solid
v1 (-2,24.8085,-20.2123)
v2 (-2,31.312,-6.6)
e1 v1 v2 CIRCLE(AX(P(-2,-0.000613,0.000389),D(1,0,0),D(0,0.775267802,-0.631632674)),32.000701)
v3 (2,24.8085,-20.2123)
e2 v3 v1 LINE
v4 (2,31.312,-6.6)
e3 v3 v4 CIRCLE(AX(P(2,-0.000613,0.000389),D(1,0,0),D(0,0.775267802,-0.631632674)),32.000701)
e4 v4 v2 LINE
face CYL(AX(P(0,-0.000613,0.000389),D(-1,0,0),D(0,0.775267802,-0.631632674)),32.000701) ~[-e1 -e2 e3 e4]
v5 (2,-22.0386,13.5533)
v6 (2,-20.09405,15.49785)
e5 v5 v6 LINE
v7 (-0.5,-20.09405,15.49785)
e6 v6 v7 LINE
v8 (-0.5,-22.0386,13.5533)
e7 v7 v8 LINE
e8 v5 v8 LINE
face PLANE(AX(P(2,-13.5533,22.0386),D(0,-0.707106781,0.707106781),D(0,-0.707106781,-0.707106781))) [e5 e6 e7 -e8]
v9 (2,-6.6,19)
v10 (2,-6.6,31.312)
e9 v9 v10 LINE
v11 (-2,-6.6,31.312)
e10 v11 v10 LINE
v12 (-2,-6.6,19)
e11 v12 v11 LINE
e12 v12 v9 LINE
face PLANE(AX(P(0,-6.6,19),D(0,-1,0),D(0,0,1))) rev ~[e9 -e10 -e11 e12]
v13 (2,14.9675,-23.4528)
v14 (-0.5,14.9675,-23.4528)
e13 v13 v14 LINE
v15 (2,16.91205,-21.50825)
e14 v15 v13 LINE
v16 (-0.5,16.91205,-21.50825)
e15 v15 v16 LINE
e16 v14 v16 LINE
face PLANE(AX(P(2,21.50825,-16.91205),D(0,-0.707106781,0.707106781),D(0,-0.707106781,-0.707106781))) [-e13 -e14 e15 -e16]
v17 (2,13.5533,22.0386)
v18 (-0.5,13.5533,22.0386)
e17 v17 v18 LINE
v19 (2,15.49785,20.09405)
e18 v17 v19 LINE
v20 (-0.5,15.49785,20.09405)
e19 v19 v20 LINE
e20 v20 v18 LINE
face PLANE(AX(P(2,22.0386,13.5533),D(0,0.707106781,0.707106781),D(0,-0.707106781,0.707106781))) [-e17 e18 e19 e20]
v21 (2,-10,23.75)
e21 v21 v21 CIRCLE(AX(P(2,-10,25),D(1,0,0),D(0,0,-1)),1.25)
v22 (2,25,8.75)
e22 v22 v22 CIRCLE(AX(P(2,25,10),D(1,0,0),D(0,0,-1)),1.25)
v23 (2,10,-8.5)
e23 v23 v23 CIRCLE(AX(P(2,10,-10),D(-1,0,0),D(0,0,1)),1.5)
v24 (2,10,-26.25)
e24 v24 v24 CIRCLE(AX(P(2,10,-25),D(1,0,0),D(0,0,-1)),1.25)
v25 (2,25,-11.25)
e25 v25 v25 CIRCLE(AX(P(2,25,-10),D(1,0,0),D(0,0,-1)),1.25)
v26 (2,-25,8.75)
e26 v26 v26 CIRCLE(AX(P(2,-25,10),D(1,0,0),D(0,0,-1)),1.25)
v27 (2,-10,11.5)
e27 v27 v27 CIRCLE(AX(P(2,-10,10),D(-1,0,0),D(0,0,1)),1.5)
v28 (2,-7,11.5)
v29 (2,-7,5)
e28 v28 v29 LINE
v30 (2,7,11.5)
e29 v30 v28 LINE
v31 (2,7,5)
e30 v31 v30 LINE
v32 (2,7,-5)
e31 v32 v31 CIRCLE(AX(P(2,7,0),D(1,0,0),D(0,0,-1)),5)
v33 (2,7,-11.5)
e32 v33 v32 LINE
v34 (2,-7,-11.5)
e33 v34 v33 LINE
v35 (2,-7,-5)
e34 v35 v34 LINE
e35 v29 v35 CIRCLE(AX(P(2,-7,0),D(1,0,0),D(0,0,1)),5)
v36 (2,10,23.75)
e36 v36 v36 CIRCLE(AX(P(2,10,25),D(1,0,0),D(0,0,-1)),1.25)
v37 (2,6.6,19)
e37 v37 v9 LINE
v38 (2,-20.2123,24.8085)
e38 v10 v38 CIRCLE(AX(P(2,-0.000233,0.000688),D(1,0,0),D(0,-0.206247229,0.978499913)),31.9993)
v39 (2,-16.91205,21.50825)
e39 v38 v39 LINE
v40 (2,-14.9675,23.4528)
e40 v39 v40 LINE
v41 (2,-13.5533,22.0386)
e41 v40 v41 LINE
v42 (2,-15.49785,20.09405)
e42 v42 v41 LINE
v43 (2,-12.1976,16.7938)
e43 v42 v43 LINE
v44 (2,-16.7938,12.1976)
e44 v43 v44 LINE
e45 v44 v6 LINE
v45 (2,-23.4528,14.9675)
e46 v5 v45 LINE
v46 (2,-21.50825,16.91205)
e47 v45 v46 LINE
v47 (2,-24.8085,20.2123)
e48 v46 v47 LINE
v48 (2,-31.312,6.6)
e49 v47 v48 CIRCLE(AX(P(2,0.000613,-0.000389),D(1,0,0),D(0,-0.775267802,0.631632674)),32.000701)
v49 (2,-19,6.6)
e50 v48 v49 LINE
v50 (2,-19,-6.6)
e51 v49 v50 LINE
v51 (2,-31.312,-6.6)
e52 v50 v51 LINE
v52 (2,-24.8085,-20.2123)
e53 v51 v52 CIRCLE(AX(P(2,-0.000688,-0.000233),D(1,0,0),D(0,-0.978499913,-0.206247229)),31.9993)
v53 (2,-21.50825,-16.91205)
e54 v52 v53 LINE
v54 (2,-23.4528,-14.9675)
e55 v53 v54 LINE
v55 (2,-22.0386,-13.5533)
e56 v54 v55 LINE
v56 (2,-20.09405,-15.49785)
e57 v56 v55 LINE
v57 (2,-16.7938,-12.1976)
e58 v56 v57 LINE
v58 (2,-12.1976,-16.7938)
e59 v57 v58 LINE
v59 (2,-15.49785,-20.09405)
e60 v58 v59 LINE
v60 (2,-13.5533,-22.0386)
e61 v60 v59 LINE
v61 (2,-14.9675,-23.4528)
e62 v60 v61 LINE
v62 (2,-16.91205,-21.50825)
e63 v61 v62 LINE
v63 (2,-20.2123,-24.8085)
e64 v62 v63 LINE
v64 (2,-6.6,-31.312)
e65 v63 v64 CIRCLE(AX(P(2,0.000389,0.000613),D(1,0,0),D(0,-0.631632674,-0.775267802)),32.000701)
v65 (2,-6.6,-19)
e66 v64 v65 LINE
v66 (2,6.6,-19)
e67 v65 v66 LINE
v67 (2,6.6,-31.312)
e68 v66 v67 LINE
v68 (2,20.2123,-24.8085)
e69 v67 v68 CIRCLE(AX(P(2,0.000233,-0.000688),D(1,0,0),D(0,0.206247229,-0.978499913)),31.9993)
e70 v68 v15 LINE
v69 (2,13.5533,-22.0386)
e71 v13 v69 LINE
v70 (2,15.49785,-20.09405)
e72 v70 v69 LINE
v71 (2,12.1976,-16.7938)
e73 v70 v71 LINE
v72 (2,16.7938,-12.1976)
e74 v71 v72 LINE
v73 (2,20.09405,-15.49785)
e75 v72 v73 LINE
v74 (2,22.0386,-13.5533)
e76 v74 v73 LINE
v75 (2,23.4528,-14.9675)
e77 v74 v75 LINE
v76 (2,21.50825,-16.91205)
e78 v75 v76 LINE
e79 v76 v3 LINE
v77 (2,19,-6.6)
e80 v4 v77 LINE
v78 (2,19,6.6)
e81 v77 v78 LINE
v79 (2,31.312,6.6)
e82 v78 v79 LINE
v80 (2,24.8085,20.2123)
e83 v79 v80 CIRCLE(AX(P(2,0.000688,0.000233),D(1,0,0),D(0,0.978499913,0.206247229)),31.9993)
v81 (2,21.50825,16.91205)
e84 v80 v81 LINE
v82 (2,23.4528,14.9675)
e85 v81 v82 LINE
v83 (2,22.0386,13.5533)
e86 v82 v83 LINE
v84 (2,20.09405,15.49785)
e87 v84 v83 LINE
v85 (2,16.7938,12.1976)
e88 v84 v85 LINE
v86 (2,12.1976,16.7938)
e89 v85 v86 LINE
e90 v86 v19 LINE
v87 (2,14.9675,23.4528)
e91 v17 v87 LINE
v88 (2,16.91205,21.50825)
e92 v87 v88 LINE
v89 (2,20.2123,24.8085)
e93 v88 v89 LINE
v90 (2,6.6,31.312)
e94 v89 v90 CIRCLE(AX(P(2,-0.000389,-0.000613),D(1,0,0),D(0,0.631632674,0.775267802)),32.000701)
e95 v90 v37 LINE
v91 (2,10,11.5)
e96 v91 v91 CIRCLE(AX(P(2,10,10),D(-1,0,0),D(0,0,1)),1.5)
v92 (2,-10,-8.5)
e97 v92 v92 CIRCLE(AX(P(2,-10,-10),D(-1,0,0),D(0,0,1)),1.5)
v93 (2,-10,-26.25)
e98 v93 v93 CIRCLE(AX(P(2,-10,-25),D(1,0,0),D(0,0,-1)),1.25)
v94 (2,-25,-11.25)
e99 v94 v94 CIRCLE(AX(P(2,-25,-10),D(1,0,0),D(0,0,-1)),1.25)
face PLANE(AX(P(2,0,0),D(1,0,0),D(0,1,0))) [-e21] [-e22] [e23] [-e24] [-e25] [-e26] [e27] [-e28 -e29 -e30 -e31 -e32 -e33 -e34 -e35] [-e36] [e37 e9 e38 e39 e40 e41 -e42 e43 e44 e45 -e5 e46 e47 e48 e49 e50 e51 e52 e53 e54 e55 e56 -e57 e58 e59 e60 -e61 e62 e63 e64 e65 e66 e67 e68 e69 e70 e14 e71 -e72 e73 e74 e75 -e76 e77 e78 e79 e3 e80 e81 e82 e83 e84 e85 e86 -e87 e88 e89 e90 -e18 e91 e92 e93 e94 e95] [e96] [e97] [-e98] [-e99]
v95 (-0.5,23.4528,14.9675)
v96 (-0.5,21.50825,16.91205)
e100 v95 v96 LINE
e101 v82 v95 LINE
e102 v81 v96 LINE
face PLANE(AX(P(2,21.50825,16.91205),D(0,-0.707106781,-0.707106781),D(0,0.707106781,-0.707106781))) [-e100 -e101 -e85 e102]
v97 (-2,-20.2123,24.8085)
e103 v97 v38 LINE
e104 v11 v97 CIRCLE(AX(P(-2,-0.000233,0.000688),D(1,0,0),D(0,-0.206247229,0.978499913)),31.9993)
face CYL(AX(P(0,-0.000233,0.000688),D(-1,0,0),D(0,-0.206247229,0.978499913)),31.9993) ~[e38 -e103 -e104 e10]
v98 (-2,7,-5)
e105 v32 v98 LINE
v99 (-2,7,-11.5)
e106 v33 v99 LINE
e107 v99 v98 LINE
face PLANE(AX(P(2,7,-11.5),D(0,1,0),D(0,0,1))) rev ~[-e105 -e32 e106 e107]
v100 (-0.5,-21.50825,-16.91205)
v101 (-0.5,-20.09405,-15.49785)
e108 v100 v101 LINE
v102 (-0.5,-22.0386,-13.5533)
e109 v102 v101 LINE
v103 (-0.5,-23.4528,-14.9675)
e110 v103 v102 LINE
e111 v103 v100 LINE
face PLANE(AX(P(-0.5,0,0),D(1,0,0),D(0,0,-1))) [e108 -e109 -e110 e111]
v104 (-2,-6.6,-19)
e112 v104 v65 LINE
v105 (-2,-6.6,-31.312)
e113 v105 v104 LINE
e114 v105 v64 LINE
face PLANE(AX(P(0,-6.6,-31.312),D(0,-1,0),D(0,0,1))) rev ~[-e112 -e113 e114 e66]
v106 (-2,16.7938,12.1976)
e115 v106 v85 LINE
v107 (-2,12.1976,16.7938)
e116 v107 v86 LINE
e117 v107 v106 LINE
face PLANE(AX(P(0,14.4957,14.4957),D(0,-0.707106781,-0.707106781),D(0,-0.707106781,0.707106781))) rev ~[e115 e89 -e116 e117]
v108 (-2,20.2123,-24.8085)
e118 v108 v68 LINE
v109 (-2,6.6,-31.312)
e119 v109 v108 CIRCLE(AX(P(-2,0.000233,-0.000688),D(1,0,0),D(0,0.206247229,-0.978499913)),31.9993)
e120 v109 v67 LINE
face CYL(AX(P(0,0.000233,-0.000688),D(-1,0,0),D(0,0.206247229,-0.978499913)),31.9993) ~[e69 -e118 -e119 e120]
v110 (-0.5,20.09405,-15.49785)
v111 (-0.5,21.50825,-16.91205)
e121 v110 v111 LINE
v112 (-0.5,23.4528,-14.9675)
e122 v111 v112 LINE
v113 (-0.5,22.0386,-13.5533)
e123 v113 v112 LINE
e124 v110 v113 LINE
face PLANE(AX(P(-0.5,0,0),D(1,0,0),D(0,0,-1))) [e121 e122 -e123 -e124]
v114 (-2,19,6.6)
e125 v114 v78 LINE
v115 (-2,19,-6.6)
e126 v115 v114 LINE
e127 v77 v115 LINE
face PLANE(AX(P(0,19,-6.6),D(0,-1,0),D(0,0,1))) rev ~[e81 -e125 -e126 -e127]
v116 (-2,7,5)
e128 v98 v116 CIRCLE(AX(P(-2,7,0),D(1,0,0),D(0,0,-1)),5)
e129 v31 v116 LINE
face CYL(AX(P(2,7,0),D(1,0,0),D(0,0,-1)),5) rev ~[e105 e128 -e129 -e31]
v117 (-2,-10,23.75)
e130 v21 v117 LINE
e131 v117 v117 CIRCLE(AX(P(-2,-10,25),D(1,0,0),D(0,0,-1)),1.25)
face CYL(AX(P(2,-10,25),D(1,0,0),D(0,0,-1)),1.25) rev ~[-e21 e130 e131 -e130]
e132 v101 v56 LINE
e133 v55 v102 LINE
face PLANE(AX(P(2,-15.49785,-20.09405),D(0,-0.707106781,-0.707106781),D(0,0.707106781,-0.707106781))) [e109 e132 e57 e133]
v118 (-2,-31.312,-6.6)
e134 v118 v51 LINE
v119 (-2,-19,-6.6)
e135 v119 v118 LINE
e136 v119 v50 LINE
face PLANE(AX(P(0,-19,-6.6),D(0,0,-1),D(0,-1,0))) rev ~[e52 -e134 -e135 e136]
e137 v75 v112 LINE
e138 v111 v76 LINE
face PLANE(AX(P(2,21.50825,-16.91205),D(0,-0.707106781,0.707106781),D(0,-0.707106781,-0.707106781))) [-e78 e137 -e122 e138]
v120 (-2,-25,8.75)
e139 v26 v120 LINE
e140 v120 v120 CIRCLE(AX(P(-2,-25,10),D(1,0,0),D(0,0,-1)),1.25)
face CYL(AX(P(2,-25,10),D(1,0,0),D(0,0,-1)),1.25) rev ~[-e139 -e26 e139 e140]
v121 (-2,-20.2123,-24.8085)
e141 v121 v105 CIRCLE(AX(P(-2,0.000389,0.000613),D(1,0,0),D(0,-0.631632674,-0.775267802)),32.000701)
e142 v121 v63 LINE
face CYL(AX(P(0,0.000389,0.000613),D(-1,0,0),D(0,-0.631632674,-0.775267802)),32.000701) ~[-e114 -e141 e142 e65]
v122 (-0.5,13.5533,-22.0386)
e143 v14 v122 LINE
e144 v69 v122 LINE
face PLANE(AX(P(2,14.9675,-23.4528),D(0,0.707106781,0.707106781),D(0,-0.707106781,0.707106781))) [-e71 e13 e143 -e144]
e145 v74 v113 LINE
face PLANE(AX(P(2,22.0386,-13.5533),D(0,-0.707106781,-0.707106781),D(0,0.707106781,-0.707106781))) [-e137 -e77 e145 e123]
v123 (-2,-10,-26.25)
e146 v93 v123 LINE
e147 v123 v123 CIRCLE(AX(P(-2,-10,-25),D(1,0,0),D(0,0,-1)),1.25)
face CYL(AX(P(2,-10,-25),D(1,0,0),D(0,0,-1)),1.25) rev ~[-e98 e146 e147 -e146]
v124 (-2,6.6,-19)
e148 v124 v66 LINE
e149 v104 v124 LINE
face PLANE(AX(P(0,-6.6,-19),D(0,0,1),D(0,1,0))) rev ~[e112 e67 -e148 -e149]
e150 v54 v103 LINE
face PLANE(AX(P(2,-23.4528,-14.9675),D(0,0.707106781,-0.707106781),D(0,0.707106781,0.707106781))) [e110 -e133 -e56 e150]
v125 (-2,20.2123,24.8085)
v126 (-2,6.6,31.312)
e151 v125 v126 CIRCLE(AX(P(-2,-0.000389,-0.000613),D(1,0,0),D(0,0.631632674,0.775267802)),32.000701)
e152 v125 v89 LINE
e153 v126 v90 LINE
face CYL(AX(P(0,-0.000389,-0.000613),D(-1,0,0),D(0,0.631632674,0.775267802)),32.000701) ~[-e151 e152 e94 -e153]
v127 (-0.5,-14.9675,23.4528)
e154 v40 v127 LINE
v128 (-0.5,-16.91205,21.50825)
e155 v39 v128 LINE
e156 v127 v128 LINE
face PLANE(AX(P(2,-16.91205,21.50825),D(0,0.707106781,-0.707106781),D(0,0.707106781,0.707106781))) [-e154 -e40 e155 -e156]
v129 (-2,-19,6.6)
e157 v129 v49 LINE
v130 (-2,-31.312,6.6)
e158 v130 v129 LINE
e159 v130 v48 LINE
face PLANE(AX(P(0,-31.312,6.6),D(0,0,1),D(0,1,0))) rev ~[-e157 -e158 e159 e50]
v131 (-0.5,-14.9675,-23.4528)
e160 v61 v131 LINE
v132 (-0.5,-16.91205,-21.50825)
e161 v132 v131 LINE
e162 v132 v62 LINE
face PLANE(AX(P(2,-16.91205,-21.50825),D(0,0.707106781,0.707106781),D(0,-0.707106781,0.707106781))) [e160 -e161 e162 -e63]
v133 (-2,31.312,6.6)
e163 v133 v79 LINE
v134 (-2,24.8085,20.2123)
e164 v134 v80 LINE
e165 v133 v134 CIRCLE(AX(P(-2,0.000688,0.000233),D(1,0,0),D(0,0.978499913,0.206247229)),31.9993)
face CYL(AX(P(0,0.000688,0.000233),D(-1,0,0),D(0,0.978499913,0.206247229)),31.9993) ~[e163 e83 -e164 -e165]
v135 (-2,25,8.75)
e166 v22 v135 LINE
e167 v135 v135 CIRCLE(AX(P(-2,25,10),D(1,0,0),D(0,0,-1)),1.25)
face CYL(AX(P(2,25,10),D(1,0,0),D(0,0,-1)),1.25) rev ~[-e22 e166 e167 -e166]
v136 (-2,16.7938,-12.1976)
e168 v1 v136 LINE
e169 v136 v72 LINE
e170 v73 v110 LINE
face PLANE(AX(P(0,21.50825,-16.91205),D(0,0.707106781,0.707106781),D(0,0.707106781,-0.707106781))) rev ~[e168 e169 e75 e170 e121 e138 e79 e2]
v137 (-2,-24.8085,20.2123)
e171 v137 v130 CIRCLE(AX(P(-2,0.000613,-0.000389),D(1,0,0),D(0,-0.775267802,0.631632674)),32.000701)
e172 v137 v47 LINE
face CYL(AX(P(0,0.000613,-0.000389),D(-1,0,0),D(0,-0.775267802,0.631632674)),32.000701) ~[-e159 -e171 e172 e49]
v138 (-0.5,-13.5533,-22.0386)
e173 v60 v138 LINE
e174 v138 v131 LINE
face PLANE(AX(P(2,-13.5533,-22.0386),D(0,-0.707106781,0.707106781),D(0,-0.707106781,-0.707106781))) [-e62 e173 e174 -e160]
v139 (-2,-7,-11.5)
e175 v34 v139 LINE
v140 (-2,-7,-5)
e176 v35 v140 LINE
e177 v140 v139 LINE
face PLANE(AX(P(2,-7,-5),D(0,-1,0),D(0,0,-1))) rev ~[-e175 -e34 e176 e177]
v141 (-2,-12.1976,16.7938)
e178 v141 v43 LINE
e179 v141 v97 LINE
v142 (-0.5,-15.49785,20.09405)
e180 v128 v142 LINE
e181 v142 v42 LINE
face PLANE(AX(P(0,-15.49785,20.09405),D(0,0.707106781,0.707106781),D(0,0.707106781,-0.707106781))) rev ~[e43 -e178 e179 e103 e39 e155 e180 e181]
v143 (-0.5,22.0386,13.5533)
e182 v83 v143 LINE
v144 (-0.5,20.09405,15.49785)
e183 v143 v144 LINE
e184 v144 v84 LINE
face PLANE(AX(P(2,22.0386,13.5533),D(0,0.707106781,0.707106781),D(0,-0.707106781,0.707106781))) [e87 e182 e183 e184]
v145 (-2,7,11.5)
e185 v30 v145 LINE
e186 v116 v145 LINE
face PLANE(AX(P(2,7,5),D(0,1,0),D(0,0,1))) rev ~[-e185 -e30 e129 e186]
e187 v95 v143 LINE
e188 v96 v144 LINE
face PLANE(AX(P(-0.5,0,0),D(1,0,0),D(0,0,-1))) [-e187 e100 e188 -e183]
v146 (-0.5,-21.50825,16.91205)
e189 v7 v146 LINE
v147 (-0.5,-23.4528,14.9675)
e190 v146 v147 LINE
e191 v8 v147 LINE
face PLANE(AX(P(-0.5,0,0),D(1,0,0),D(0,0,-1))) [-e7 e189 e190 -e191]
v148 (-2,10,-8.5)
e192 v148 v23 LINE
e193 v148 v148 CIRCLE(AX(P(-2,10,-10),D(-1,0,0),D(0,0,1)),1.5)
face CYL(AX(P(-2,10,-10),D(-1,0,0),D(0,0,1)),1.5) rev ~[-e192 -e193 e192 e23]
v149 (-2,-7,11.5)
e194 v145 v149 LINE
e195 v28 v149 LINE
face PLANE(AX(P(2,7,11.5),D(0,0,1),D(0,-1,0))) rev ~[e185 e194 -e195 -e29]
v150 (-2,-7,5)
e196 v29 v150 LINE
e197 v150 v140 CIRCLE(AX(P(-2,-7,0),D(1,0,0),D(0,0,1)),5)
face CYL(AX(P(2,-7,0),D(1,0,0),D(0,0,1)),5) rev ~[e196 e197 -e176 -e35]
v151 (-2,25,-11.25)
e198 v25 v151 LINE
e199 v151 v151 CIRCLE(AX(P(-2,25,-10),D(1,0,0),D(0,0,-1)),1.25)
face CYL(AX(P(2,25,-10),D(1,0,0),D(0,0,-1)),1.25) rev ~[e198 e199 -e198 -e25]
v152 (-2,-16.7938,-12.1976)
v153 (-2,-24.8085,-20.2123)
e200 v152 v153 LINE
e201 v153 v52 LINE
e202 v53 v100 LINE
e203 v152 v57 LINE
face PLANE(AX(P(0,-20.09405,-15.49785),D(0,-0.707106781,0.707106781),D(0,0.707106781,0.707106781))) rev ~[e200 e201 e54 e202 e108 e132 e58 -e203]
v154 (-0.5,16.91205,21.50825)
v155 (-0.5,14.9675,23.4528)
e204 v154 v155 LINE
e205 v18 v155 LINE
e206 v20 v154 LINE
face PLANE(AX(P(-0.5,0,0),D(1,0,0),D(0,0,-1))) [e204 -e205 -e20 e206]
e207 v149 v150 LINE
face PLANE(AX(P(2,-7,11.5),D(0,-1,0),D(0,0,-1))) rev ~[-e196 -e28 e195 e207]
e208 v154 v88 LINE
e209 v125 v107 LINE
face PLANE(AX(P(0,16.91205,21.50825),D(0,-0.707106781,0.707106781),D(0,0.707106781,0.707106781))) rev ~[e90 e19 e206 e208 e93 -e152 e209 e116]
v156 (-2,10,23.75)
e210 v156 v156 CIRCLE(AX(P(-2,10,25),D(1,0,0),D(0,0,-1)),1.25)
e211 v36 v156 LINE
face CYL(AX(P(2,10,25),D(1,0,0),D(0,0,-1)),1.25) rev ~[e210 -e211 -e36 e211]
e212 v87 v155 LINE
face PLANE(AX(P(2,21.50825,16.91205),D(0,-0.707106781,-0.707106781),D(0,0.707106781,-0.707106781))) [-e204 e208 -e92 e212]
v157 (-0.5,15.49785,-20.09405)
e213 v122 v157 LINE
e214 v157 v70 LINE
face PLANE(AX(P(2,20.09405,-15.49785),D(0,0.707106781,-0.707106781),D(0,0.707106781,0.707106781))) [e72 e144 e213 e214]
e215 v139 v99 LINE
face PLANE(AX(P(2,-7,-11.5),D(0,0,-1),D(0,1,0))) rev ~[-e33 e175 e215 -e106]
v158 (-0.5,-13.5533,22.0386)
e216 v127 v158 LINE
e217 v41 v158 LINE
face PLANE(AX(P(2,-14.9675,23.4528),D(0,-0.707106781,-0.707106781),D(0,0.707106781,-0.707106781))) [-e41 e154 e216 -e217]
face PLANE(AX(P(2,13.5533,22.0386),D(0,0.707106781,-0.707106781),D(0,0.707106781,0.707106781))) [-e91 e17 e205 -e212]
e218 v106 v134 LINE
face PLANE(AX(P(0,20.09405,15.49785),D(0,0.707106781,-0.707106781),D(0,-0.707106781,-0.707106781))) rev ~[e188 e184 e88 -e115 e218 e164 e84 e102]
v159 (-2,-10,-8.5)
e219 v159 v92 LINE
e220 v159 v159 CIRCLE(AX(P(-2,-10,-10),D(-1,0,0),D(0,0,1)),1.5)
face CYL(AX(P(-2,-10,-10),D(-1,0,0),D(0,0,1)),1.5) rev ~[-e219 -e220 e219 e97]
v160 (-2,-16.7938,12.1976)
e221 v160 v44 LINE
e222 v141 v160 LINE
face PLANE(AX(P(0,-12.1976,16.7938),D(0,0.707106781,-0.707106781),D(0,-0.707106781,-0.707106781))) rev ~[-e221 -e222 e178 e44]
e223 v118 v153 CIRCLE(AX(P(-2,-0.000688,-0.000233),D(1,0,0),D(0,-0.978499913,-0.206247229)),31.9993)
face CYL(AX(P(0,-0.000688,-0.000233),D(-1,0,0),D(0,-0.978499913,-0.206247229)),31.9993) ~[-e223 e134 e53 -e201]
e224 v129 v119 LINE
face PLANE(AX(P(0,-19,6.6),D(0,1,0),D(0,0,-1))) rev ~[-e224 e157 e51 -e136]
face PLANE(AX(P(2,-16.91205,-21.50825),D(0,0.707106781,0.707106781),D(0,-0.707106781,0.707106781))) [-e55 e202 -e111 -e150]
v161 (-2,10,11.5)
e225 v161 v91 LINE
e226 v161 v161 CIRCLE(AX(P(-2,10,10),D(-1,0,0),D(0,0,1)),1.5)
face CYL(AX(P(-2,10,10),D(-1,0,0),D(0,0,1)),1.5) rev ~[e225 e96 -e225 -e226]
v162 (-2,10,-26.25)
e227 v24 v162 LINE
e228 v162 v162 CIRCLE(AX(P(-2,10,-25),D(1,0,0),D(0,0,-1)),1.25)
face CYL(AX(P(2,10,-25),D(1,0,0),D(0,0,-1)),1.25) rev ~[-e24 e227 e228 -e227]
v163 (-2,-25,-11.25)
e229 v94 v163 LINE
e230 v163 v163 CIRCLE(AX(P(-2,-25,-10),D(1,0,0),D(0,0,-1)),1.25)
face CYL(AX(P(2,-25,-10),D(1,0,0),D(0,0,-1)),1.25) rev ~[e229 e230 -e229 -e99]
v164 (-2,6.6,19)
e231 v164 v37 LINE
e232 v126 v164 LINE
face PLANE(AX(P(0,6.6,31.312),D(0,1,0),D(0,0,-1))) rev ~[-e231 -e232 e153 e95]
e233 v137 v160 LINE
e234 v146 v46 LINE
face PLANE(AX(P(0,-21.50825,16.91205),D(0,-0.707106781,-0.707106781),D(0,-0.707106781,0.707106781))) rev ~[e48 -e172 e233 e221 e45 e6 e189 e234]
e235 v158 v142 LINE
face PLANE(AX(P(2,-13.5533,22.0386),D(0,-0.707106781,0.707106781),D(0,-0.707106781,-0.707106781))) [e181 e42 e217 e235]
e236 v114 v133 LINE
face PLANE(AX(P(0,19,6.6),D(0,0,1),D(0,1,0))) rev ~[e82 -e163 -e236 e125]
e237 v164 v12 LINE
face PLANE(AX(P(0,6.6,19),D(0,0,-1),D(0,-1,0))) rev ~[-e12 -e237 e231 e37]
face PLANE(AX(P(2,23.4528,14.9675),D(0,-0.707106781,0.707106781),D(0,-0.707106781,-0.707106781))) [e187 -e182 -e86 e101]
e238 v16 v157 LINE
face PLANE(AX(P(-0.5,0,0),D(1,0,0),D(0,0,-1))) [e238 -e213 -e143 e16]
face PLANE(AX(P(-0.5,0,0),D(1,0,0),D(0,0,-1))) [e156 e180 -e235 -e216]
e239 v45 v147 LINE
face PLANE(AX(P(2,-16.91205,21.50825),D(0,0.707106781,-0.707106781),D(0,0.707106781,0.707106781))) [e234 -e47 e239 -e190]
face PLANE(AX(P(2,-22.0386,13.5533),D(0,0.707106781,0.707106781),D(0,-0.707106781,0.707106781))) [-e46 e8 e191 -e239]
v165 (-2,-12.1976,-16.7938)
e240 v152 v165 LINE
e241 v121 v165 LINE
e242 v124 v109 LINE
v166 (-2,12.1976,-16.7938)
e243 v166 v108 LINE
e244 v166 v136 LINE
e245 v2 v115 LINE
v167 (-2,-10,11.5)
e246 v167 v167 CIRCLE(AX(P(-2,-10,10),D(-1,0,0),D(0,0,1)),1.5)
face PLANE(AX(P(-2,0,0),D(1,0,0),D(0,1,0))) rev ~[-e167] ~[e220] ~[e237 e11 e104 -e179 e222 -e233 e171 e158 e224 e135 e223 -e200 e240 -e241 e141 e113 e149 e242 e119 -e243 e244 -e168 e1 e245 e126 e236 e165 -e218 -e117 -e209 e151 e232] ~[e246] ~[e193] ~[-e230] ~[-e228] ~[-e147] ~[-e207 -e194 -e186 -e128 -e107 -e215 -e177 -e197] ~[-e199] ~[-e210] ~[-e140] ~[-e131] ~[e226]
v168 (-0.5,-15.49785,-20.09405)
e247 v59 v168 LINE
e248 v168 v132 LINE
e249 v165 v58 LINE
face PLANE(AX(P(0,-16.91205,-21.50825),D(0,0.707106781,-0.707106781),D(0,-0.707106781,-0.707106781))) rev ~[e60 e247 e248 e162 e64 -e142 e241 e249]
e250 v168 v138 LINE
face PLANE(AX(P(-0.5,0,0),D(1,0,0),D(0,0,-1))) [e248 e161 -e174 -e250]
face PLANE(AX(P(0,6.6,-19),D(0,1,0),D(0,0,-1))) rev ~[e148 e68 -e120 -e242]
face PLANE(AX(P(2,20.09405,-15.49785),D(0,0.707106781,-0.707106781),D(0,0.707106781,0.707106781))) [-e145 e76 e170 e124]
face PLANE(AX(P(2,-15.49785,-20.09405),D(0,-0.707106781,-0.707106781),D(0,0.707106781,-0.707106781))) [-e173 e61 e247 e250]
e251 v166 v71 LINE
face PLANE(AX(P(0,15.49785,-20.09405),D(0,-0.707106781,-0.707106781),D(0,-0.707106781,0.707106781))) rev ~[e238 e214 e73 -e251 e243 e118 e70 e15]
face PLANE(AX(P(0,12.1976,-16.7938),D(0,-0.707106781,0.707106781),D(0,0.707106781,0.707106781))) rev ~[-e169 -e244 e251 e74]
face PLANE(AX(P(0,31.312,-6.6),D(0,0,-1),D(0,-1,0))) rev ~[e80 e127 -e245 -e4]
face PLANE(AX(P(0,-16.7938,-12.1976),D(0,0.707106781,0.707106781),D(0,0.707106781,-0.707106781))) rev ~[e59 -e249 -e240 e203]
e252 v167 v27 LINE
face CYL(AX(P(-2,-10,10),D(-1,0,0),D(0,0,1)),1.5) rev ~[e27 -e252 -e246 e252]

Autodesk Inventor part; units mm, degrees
ref_plane "YZ Plane" through (0, 0, 0) normal (1, 0, 0) x (0, 1, 0)
ref_plane "XZ Plane" through (0, 0, 0) normal (0, 1, 0) x (-1, 0, 0)
ref_plane "XY Plane" through (0, 0, 0) normal (0, 0, 1) x (1, 0, 0)
sketch "Náčrt1" plane through (0, 0, 0) normal (1, 0, 0) x (0, 1, 0)
  line L0 (19, 6.6) -> (31.312, 6.6)
  line L1 (31.312, -6.6) -> (19, -6.6)
  line L2 (19, -6.6) -> (19, 6.6)
  line L3 (24.8085, 20.2123) -> (16.7938, 12.1976)
  line L4 (16.7938, 12.1976) -> (12.1976, 16.7938)
  line L5 (12.1976, 16.7938) -> (20.2123, 24.8085)
  line L6 (0, 0) -> (14.4957, 14.4957)
  line L7 (6.6, 19) -> (-6.6, 19)
  line L8 (6.6, 31.312) -> (6.6, 19)
  line L9 (-6.6, 19) -> (-6.6, 31.312)
  line L10 (-20.2123, 24.8085) -> (-12.1976, 16.7938)
  line L11 (-12.1976, 16.7938) -> (-16.7938, 12.1976)
  line L12 (-16.7938, 12.1976) -> (-24.8085, 20.2123)
  line L13 (-19, 6.6) -> (-19, -6.6)
  line L14 (-31.312, 6.6) -> (-19, 6.6)
  line L15 (-19, -6.6) -> (-31.312, -6.6)
  line L16 (-24.8085, -20.2123) -> (-16.7938, -12.1976)
  line L17 (-16.7938, -12.1976) -> (-12.1976, -16.7938)
  line L18 (-12.1976, -16.7938) -> (-20.2123, -24.8085)
  line L19 (-6.6, -19) -> (6.6, -19)
  line L20 (-6.6, -31.312) -> (-6.6, -19)
  line L21 (6.6, -19) -> (6.6, -31.312)
  line L22 (20.2123, -24.8085) -> (12.1976, -16.7938)
  line L23 (12.1976, -16.7938) -> (16.7938, -12.1976)
  line L24 (16.7938, -12.1976) -> (24.8085, -20.2123)
  arc A0 (24.8085, -20.2123) -> (31.312, -6.6) centre (0, 0) ccw
  arc A1 (6.6, -31.312) -> (20.2123, -24.8085) centre (0, 0) ccw
  arc A2 (-20.2123, -24.8085) -> (-6.6, -31.312) centre (0, 0) ccw
  arc A3 (-31.312, -6.6) -> (-24.8085, -20.2123) centre (0, 0) ccw
  arc A4 (-24.8085, 20.2123) -> (-31.312, 6.6) centre (0, 0) ccw
  arc A5 (-6.6, 31.312) -> (-20.2123, 24.8085) centre (0, 0) ccw
  arc A6 (31.312, 6.6) -> (24.8085, 20.2123) centre (0, 0) ccw
  arc A7 (20.2123, 24.8085) -> (6.6, 31.312) centre (0, 0) ccw
  line L25 (16.205, 20.8011) -> (20.8011, 16.205)
  line L26 (14.9675, 23.4528) -> (13.5533, 22.0386)
  line L27 (13.5533, 22.0386) -> (22.0386, 13.5533)
  line L28 (22.0386, 13.5533) -> (23.4528, 14.9675)
  line L29 (23.4528, 14.9675) -> (14.9675, 23.4528)
  line L30 (-13.5533, 22.0386) -> (-14.9675, 23.4528)
  line L31 (-22.0386, 13.5533) -> (-13.5533, 22.0386)
  line L32 (-14.9675, 23.4528) -> (-23.4528, 14.9675)
  line L33 (-23.4528, 14.9675) -> (-22.0386, 13.5533)
  line L34 (-22.0386, -13.5533) -> (-23.4528, -14.9675)
  line L35 (-13.5533, -22.0386) -> (-22.0386, -13.5533)
  line L36 (-23.4528, -14.9675) -> (-14.9675, -23.4528)
  line L37 (-14.9675, -23.4528) -> (-13.5533, -22.0386)
  line L38 (13.5533, -22.0386) -> (14.9675, -23.4528)
  line L39 (22.0386, -13.5533) -> (13.5533, -22.0386)
  line L40 (14.9675, -23.4528) -> (23.4528, -14.9675)
  line L41 (23.4528, -14.9675) -> (22.0386, -13.5533)
  point P0 (-14.4957, 14.4957)
  point P1 (-14.4957, -14.4957)
  point P2 (14.4957, -14.4957)
  dimension "d1" = 6.6
  dimension "d2" = 6.6
  dimension "d4" = 6.5
  dimension "d5" = 3.25
  dimension "d6" = 20.5
  dimension "d7" = 45
  dimension "d10" = 360
  dimension "d12" = 2
  dimension "d13" = 12
  dimension "d14" = 1
  dimension "d15" = 2.75
  dimension "d18" = 360
extrude "Vysunutí1" add sketch "Náčrt1" along normal mid plane 4 contours L2 L1 A0 L24 L40 L41 L39 L23 L22 L38 A1 L21 L19 L20 A2 L18 L36 L37 L35 L17 L16 L34 A3 L15 L13 L14 A4 L12 L32 L33 L31 L11 L10 L30 A5 L9 L7 L8 A7 L5 L29 L26 L27 L4 L3 L28 A6 L0 | L29 L28 L27 L3 | L5 L27 L26 L29 | L24 L39 L41 L40 | L40 L38 L39 L22 | L32 L30 L31 L10 | L12 L31 L33 L32 | L18 L35 L37 L36 | L36 L34 L35 L16
ref_plane "Pracovní rovina1" through (2, 0, 0) normal (1, 0, 0) x (0, 0, -1)
sketch "Náčrt2" plane through (2, 0, 0) normal (1, 0, 0) x (0, 0, -1)
  line L0 (-6.6, 19) -> (-6.6, 31.312) projected
  arc A0 (-6.6, 31.312) -> (-20.2123, 24.8085) centre (0, 0) ccw projected
  line L1 (-20.2123, 24.8085) -> (-12.1976, 16.7938) projected
  line L2 (-12.1976, 16.7938) -> (-16.7938, 12.1976) projected
  line L3 (-16.7938, 12.1976) -> (-24.8085, 20.2123) projected
  arc A1 (-24.8085, 20.2123) -> (-31.312, 6.6) centre (0, 0) ccw projected
  line L4 (-31.312, 6.6) -> (-19, 6.6) projected
  line L5 (-19, 6.6) -> (-19, -6.6) projected
  line L6 (-19, -6.6) -> (-31.312, -6.6) projected
  arc A2 (-31.312, -6.6) -> (-24.8085, -20.2123) centre (0, 0) ccw projected
  line L7 (-24.8085, -20.2123) -> (-16.7938, -12.1976) projected
  line L8 (-16.7938, -12.1976) -> (-12.1976, -16.7938) projected
  line L9 (-12.1976, -16.7938) -> (-20.2123, -24.8085) projected
  arc A3 (-20.2123, -24.8085) -> (-6.6, -31.312) centre (0, 0) ccw projected
  line L10 (-6.6, -31.312) -> (-6.6, -19) projected
  line L11 (-6.6, -19) -> (6.6, -19) projected
  line L12 (6.6, -19) -> (6.6, -31.312) projected
  arc A4 (6.6, -31.312) -> (20.2123, -24.8085) centre (0, 0) ccw projected
  line L13 (20.2123, -24.8085) -> (12.1976, -16.7938) projected
  line L14 (12.1976, -16.7938) -> (16.7938, -12.1976) projected
  line L15 (16.7938, -12.1976) -> (24.8085, -20.2123) projected
  arc A5 (24.8085, -20.2123) -> (31.312, -6.6) centre (0, 0) ccw projected
  line L16 (31.312, -6.6) -> (19, -6.6) projected
  line L17 (19, -6.6) -> (19, 6.6) projected
  line L18 (19, 6.6) -> (31.312, 6.6) projected
  arc A6 (31.312, 6.6) -> (24.8085, 20.2123) centre (0, 0) ccw projected
  line L19 (24.8085, 20.2123) -> (16.7938, 12.1976) projected
  line L20 (16.7938, 12.1976) -> (12.1976, 16.7938) projected
  line L21 (12.1976, 16.7938) -> (20.2123, 24.8085) projected
  arc A7 (20.2123, 24.8085) -> (6.6, 31.312) centre (0, 0) ccw projected
  line L22 (6.6, 31.312) -> (6.6, 19) projected
  line L23 (6.6, 19) -> (-6.6, 19) projected
  line L24 (-16.7938, 12.1976) -> (-24.8085, 20.2123) projected
  line L25 (-20.8011, 16.205) -> (-16.205, 20.8011)
  line L26 (-23.4528, 14.9675) -> (-14.9675, 23.4528)
  line L27 (-20.2123, 24.8085) -> (-12.1976, 16.7938) projected
  line L28 (-14.9675, 23.4528) -> (-13.5533, 22.0386)
  line L29 (-13.5533, 22.0386) -> (-22.0386, 13.5533)
  line L30 (-22.0386, 13.5533) -> (-23.4528, 14.9675)
  line L31 (-16.205, -20.8011) -> (-20.8011, -16.205)
  line L32 (-22.0386, -13.5533) -> (-13.5533, -22.0386)
  line L33 (-14.9675, -23.4528) -> (-23.4528, -14.9675)
  line L34 (-13.5533, -22.0386) -> (-14.9675, -23.4528)
  line L35 (-23.4528, -14.9675) -> (-22.0386, -13.5533)
  line L36 (20.8011, -16.205) -> (16.205, -20.8011)
  line L37 (13.5533, -22.0386) -> (22.0386, -13.5533)
  line L38 (23.4528, -14.9675) -> (14.9675, -23.4528)
  line L39 (22.0386, -13.5533) -> (23.4528, -14.9675)
  line L40 (14.9675, -23.4528) -> (13.5533, -22.0386)
  line L41 (16.205, 20.8011) -> (20.8011, 16.205)
  line L42 (22.0386, 13.5533) -> (13.5533, 22.0386)
  line L43 (14.9675, 23.4528) -> (23.4528, 14.9675)
  line L44 (13.5533, 22.0386) -> (14.9675, 23.4528)
  line L45 (23.4528, 14.9675) -> (22.0386, 13.5533)
  dimension "d23" = 12
  dimension "d24" = 2
  dimension "d25" = 1
  dimension "d26" = 2.75
  dimension "d27" = 6.5
  dimension "d30" = 360
extrude "Vysunutí2" cut sketch "Náčrt2" against normal blind 2.5 contours L26 L28 L29 L1 | L1 L25 L3 L26 | L1 L29 L3 L25 | L3 L29 L30 L26 | L43 L19 L41 L21 | L21 L42 L44 L43 | L41 L19 L42 L21 | L43 L45 L42 L19 | L33 L35 L32 L7 | L7 L31 L9 L33 | L7 L32 L9 L31 | L9 L32 L34 L33 | L38 L13 L36 L15 | L15 L37 L39 L38 | L36 L13 L37 L15 | L38 L40 L37 L13
sketch "Náčrt3" plane through (2, 0, 0) normal (1, 0, 0) x (0, 0, -1)
  line L0 (-11.5, 7) -> (-11.5, -7)
  line L1 (11.5, -7) -> (11.5, 7)
  arc A0 (5, 7) -> (-5, 7) centre (0, 7) ccw
  arc A1 (-5, -7) -> (5, -7) centre (0, -7) ccw
  line L2 (-11.5, -7) -> (-5, -7)
  line L3 (5, -7) -> (11.5, -7)
  line L4 (11.5, 7) -> (5, 7)
  line L5 (-5, 7) -> (-11.5, 7)
  point P0 (0, 0)
  dimension "d34" = 23
  dimension "d35" = 14
  dimension "d37" = 11.5
  dimension "d38" = 10
  dimension "d39" = 10
extrude "Vysunutí3" cut sketch "Náčrt3" against normal blind 4
ref_plane "Pracovní rovina2" through (-2, 0, 0) normal (-1, 0, 0) x (0, 0, 1)
sketch "Náčrt4" plane through (-2, 0, 0) normal (-1, 0, 0) x (0, 0, 1)
  line L0 (-11.5, 7) -> (-5, 7) projected
  arc A0 (5, 7) -> (-5, 7) centre (0, 7) ccw projected
  line L1 (5, 7) -> (11.5, 7) projected
  line L2 (11.5, 7) -> (11.5, -7) projected
  line L3 (11.5, -7) -> (5, -7) projected
  arc A1 (-5, -7) -> (5, -7) centre (0, -7) ccw projected
  line L4 (-5, -7) -> (-11.5, -7) projected
  line L5 (-11.5, -7) -> (-11.5, 7) projected
  line L6 (6.6, 31.312) -> (6.6, 19) projected
  line L7 (6.6, 19) -> (-6.6, 19) projected
  line L8 (-6.6, 19) -> (-6.6, 31.312) projected
  arc A2 (-6.6, 31.312) -> (-20.2123, 24.8085) centre (0, 0) ccw projected
  line L9 (-20.2123, 24.8085) -> (-12.1976, 16.7938) projected
  line L10 (-12.1976, 16.7938) -> (-16.7938, 12.1976) projected
  line L11 (-16.7938, 12.1976) -> (-24.8085, 20.2123) projected
  arc A3 (-24.8085, 20.2123) -> (-31.312, 6.6) centre (0, 0) ccw projected
  line L12 (-31.312, 6.6) -> (-19, 6.6) projected
  line L13 (-19, 6.6) -> (-19, -6.6) projected
  line L14 (-19, -6.6) -> (-31.312, -6.6) projected
  arc A4 (-31.312, -6.6) -> (-24.8085, -20.2123) centre (0, 0) ccw projected
  line L15 (-24.8085, -20.2123) -> (-16.7938, -12.1976) projected
  line L16 (-16.7938, -12.1976) -> (-12.1976, -16.7938) projected
  line L17 (-12.1976, -16.7938) -> (-20.2123, -24.8085) projected
  arc A5 (-20.2123, -24.8085) -> (-6.6, -31.312) centre (0, 0) ccw projected
  line L18 (-6.6, -31.312) -> (-6.6, -19) projected
  line L19 (-6.6, -19) -> (6.6, -19) projected
  line L20 (6.6, -19) -> (6.6, -31.312) projected
  arc A6 (6.6, -31.312) -> (20.2123, -24.8085) centre (0, 0) ccw projected
  line L21 (20.2123, -24.8085) -> (12.1976, -16.7938) projected
  line L22 (12.1976, -16.7938) -> (16.7938, -12.1976) projected
  line L23 (16.7938, -12.1976) -> (24.8085, -20.2123) projected
  arc A7 (24.8085, -20.2123) -> (31.312, -6.6) centre (0, 0) ccw projected
  line L24 (31.312, -6.6) -> (19, -6.6) projected
  line L25 (19, -6.6) -> (19, 6.6) projected
  line L26 (19, 6.6) -> (31.312, 6.6) projected
  arc A8 (31.312, 6.6) -> (24.8085, 20.2123) centre (0, 0) ccw projected
  line L27 (24.8085, 20.2123) -> (16.7938, 12.1976) projected
  line L28 (16.7938, 12.1976) -> (12.1976, 16.7938) projected
  line L29 (12.1976, 16.7938) -> (20.2123, 24.8085) projected
  arc A9 (20.2123, 24.8085) -> (6.6, 31.312) centre (0, 0) ccw projected
  line L30 (16.7938, 12.1976) -> (12.1976, 16.7938) projected
  line L31 (-16.7938, -12.1976) -> (-12.1976, -16.7938) projected
sketch "Náčrt5" plane through (-2, 0, 0) normal (-1, 0, 0) x (0, 0, 1)
  circle A0 centre (10, -10) radius 1.5
  circle A1 centre (10, 10) radius 1.5
  circle A2 centre (-10, 10) radius 1.5
  circle A3 centre (-10, -10) radius 1.5
  point P0 (0, 0)
  dimension "d45" = 360
  dimension "d47" = 10
  dimension "d48" = 10
  dimension "d49" = 3
extrude "Vysunutí4" cut sketch "Náčrt5" against normal blind 4
sketch "Náčrt6" plane through (2, 0, 0) normal (1, 0, 0) x (0, 0, -1)
  circle A0 centre (10, 25) radius 1.25
  circle A1 centre (-10, 25) radius 1.25
  circle A2 centre (-25, 10) radius 1.25
  circle A3 centre (-25, -10) radius 1.25
  circle A4 centre (-10, -25) radius 1.25
  circle A5 centre (10, -25) radius 1.25
  circle A6 centre (25, -10) radius 1.25
  circle A7 centre (25, 10) radius 1.25
  point P0 (0, 0)
  dimension "d52" = 2.5
  dimension "d53" = 2.5
  dimension "d54" = 25
  dimension "d55" = 25
  dimension "d56" = 10
  dimension "d57" = 10
  dimension "d60" = 360
extrude "Vysunutí5" cut sketch "Náčrt6" against normal blind 4
equation "\"d2\" = d1"
equation "\"d5\" = 0.5 * d4"
equation "\"d14\" = 0.5 * d12"
equation "\"d15\" = -0.5 * d4 + 0.5 * d13"
equation "\"d25\" = 0.5 * d24"
equation "\"d26\" = -0.5 * d27 + 0.5 * d23"
equation "\"d37\" = 0.5 * d34"
equation "\"d39\" = d38"
equation "\"d48\" = d47"
equation "\"d53\" = d52"
equation "\"d55\" = d54"
equation "\"d57\" = d56"
equation "\"d36\" = 0.5 * d35"
properties part number "deska"
